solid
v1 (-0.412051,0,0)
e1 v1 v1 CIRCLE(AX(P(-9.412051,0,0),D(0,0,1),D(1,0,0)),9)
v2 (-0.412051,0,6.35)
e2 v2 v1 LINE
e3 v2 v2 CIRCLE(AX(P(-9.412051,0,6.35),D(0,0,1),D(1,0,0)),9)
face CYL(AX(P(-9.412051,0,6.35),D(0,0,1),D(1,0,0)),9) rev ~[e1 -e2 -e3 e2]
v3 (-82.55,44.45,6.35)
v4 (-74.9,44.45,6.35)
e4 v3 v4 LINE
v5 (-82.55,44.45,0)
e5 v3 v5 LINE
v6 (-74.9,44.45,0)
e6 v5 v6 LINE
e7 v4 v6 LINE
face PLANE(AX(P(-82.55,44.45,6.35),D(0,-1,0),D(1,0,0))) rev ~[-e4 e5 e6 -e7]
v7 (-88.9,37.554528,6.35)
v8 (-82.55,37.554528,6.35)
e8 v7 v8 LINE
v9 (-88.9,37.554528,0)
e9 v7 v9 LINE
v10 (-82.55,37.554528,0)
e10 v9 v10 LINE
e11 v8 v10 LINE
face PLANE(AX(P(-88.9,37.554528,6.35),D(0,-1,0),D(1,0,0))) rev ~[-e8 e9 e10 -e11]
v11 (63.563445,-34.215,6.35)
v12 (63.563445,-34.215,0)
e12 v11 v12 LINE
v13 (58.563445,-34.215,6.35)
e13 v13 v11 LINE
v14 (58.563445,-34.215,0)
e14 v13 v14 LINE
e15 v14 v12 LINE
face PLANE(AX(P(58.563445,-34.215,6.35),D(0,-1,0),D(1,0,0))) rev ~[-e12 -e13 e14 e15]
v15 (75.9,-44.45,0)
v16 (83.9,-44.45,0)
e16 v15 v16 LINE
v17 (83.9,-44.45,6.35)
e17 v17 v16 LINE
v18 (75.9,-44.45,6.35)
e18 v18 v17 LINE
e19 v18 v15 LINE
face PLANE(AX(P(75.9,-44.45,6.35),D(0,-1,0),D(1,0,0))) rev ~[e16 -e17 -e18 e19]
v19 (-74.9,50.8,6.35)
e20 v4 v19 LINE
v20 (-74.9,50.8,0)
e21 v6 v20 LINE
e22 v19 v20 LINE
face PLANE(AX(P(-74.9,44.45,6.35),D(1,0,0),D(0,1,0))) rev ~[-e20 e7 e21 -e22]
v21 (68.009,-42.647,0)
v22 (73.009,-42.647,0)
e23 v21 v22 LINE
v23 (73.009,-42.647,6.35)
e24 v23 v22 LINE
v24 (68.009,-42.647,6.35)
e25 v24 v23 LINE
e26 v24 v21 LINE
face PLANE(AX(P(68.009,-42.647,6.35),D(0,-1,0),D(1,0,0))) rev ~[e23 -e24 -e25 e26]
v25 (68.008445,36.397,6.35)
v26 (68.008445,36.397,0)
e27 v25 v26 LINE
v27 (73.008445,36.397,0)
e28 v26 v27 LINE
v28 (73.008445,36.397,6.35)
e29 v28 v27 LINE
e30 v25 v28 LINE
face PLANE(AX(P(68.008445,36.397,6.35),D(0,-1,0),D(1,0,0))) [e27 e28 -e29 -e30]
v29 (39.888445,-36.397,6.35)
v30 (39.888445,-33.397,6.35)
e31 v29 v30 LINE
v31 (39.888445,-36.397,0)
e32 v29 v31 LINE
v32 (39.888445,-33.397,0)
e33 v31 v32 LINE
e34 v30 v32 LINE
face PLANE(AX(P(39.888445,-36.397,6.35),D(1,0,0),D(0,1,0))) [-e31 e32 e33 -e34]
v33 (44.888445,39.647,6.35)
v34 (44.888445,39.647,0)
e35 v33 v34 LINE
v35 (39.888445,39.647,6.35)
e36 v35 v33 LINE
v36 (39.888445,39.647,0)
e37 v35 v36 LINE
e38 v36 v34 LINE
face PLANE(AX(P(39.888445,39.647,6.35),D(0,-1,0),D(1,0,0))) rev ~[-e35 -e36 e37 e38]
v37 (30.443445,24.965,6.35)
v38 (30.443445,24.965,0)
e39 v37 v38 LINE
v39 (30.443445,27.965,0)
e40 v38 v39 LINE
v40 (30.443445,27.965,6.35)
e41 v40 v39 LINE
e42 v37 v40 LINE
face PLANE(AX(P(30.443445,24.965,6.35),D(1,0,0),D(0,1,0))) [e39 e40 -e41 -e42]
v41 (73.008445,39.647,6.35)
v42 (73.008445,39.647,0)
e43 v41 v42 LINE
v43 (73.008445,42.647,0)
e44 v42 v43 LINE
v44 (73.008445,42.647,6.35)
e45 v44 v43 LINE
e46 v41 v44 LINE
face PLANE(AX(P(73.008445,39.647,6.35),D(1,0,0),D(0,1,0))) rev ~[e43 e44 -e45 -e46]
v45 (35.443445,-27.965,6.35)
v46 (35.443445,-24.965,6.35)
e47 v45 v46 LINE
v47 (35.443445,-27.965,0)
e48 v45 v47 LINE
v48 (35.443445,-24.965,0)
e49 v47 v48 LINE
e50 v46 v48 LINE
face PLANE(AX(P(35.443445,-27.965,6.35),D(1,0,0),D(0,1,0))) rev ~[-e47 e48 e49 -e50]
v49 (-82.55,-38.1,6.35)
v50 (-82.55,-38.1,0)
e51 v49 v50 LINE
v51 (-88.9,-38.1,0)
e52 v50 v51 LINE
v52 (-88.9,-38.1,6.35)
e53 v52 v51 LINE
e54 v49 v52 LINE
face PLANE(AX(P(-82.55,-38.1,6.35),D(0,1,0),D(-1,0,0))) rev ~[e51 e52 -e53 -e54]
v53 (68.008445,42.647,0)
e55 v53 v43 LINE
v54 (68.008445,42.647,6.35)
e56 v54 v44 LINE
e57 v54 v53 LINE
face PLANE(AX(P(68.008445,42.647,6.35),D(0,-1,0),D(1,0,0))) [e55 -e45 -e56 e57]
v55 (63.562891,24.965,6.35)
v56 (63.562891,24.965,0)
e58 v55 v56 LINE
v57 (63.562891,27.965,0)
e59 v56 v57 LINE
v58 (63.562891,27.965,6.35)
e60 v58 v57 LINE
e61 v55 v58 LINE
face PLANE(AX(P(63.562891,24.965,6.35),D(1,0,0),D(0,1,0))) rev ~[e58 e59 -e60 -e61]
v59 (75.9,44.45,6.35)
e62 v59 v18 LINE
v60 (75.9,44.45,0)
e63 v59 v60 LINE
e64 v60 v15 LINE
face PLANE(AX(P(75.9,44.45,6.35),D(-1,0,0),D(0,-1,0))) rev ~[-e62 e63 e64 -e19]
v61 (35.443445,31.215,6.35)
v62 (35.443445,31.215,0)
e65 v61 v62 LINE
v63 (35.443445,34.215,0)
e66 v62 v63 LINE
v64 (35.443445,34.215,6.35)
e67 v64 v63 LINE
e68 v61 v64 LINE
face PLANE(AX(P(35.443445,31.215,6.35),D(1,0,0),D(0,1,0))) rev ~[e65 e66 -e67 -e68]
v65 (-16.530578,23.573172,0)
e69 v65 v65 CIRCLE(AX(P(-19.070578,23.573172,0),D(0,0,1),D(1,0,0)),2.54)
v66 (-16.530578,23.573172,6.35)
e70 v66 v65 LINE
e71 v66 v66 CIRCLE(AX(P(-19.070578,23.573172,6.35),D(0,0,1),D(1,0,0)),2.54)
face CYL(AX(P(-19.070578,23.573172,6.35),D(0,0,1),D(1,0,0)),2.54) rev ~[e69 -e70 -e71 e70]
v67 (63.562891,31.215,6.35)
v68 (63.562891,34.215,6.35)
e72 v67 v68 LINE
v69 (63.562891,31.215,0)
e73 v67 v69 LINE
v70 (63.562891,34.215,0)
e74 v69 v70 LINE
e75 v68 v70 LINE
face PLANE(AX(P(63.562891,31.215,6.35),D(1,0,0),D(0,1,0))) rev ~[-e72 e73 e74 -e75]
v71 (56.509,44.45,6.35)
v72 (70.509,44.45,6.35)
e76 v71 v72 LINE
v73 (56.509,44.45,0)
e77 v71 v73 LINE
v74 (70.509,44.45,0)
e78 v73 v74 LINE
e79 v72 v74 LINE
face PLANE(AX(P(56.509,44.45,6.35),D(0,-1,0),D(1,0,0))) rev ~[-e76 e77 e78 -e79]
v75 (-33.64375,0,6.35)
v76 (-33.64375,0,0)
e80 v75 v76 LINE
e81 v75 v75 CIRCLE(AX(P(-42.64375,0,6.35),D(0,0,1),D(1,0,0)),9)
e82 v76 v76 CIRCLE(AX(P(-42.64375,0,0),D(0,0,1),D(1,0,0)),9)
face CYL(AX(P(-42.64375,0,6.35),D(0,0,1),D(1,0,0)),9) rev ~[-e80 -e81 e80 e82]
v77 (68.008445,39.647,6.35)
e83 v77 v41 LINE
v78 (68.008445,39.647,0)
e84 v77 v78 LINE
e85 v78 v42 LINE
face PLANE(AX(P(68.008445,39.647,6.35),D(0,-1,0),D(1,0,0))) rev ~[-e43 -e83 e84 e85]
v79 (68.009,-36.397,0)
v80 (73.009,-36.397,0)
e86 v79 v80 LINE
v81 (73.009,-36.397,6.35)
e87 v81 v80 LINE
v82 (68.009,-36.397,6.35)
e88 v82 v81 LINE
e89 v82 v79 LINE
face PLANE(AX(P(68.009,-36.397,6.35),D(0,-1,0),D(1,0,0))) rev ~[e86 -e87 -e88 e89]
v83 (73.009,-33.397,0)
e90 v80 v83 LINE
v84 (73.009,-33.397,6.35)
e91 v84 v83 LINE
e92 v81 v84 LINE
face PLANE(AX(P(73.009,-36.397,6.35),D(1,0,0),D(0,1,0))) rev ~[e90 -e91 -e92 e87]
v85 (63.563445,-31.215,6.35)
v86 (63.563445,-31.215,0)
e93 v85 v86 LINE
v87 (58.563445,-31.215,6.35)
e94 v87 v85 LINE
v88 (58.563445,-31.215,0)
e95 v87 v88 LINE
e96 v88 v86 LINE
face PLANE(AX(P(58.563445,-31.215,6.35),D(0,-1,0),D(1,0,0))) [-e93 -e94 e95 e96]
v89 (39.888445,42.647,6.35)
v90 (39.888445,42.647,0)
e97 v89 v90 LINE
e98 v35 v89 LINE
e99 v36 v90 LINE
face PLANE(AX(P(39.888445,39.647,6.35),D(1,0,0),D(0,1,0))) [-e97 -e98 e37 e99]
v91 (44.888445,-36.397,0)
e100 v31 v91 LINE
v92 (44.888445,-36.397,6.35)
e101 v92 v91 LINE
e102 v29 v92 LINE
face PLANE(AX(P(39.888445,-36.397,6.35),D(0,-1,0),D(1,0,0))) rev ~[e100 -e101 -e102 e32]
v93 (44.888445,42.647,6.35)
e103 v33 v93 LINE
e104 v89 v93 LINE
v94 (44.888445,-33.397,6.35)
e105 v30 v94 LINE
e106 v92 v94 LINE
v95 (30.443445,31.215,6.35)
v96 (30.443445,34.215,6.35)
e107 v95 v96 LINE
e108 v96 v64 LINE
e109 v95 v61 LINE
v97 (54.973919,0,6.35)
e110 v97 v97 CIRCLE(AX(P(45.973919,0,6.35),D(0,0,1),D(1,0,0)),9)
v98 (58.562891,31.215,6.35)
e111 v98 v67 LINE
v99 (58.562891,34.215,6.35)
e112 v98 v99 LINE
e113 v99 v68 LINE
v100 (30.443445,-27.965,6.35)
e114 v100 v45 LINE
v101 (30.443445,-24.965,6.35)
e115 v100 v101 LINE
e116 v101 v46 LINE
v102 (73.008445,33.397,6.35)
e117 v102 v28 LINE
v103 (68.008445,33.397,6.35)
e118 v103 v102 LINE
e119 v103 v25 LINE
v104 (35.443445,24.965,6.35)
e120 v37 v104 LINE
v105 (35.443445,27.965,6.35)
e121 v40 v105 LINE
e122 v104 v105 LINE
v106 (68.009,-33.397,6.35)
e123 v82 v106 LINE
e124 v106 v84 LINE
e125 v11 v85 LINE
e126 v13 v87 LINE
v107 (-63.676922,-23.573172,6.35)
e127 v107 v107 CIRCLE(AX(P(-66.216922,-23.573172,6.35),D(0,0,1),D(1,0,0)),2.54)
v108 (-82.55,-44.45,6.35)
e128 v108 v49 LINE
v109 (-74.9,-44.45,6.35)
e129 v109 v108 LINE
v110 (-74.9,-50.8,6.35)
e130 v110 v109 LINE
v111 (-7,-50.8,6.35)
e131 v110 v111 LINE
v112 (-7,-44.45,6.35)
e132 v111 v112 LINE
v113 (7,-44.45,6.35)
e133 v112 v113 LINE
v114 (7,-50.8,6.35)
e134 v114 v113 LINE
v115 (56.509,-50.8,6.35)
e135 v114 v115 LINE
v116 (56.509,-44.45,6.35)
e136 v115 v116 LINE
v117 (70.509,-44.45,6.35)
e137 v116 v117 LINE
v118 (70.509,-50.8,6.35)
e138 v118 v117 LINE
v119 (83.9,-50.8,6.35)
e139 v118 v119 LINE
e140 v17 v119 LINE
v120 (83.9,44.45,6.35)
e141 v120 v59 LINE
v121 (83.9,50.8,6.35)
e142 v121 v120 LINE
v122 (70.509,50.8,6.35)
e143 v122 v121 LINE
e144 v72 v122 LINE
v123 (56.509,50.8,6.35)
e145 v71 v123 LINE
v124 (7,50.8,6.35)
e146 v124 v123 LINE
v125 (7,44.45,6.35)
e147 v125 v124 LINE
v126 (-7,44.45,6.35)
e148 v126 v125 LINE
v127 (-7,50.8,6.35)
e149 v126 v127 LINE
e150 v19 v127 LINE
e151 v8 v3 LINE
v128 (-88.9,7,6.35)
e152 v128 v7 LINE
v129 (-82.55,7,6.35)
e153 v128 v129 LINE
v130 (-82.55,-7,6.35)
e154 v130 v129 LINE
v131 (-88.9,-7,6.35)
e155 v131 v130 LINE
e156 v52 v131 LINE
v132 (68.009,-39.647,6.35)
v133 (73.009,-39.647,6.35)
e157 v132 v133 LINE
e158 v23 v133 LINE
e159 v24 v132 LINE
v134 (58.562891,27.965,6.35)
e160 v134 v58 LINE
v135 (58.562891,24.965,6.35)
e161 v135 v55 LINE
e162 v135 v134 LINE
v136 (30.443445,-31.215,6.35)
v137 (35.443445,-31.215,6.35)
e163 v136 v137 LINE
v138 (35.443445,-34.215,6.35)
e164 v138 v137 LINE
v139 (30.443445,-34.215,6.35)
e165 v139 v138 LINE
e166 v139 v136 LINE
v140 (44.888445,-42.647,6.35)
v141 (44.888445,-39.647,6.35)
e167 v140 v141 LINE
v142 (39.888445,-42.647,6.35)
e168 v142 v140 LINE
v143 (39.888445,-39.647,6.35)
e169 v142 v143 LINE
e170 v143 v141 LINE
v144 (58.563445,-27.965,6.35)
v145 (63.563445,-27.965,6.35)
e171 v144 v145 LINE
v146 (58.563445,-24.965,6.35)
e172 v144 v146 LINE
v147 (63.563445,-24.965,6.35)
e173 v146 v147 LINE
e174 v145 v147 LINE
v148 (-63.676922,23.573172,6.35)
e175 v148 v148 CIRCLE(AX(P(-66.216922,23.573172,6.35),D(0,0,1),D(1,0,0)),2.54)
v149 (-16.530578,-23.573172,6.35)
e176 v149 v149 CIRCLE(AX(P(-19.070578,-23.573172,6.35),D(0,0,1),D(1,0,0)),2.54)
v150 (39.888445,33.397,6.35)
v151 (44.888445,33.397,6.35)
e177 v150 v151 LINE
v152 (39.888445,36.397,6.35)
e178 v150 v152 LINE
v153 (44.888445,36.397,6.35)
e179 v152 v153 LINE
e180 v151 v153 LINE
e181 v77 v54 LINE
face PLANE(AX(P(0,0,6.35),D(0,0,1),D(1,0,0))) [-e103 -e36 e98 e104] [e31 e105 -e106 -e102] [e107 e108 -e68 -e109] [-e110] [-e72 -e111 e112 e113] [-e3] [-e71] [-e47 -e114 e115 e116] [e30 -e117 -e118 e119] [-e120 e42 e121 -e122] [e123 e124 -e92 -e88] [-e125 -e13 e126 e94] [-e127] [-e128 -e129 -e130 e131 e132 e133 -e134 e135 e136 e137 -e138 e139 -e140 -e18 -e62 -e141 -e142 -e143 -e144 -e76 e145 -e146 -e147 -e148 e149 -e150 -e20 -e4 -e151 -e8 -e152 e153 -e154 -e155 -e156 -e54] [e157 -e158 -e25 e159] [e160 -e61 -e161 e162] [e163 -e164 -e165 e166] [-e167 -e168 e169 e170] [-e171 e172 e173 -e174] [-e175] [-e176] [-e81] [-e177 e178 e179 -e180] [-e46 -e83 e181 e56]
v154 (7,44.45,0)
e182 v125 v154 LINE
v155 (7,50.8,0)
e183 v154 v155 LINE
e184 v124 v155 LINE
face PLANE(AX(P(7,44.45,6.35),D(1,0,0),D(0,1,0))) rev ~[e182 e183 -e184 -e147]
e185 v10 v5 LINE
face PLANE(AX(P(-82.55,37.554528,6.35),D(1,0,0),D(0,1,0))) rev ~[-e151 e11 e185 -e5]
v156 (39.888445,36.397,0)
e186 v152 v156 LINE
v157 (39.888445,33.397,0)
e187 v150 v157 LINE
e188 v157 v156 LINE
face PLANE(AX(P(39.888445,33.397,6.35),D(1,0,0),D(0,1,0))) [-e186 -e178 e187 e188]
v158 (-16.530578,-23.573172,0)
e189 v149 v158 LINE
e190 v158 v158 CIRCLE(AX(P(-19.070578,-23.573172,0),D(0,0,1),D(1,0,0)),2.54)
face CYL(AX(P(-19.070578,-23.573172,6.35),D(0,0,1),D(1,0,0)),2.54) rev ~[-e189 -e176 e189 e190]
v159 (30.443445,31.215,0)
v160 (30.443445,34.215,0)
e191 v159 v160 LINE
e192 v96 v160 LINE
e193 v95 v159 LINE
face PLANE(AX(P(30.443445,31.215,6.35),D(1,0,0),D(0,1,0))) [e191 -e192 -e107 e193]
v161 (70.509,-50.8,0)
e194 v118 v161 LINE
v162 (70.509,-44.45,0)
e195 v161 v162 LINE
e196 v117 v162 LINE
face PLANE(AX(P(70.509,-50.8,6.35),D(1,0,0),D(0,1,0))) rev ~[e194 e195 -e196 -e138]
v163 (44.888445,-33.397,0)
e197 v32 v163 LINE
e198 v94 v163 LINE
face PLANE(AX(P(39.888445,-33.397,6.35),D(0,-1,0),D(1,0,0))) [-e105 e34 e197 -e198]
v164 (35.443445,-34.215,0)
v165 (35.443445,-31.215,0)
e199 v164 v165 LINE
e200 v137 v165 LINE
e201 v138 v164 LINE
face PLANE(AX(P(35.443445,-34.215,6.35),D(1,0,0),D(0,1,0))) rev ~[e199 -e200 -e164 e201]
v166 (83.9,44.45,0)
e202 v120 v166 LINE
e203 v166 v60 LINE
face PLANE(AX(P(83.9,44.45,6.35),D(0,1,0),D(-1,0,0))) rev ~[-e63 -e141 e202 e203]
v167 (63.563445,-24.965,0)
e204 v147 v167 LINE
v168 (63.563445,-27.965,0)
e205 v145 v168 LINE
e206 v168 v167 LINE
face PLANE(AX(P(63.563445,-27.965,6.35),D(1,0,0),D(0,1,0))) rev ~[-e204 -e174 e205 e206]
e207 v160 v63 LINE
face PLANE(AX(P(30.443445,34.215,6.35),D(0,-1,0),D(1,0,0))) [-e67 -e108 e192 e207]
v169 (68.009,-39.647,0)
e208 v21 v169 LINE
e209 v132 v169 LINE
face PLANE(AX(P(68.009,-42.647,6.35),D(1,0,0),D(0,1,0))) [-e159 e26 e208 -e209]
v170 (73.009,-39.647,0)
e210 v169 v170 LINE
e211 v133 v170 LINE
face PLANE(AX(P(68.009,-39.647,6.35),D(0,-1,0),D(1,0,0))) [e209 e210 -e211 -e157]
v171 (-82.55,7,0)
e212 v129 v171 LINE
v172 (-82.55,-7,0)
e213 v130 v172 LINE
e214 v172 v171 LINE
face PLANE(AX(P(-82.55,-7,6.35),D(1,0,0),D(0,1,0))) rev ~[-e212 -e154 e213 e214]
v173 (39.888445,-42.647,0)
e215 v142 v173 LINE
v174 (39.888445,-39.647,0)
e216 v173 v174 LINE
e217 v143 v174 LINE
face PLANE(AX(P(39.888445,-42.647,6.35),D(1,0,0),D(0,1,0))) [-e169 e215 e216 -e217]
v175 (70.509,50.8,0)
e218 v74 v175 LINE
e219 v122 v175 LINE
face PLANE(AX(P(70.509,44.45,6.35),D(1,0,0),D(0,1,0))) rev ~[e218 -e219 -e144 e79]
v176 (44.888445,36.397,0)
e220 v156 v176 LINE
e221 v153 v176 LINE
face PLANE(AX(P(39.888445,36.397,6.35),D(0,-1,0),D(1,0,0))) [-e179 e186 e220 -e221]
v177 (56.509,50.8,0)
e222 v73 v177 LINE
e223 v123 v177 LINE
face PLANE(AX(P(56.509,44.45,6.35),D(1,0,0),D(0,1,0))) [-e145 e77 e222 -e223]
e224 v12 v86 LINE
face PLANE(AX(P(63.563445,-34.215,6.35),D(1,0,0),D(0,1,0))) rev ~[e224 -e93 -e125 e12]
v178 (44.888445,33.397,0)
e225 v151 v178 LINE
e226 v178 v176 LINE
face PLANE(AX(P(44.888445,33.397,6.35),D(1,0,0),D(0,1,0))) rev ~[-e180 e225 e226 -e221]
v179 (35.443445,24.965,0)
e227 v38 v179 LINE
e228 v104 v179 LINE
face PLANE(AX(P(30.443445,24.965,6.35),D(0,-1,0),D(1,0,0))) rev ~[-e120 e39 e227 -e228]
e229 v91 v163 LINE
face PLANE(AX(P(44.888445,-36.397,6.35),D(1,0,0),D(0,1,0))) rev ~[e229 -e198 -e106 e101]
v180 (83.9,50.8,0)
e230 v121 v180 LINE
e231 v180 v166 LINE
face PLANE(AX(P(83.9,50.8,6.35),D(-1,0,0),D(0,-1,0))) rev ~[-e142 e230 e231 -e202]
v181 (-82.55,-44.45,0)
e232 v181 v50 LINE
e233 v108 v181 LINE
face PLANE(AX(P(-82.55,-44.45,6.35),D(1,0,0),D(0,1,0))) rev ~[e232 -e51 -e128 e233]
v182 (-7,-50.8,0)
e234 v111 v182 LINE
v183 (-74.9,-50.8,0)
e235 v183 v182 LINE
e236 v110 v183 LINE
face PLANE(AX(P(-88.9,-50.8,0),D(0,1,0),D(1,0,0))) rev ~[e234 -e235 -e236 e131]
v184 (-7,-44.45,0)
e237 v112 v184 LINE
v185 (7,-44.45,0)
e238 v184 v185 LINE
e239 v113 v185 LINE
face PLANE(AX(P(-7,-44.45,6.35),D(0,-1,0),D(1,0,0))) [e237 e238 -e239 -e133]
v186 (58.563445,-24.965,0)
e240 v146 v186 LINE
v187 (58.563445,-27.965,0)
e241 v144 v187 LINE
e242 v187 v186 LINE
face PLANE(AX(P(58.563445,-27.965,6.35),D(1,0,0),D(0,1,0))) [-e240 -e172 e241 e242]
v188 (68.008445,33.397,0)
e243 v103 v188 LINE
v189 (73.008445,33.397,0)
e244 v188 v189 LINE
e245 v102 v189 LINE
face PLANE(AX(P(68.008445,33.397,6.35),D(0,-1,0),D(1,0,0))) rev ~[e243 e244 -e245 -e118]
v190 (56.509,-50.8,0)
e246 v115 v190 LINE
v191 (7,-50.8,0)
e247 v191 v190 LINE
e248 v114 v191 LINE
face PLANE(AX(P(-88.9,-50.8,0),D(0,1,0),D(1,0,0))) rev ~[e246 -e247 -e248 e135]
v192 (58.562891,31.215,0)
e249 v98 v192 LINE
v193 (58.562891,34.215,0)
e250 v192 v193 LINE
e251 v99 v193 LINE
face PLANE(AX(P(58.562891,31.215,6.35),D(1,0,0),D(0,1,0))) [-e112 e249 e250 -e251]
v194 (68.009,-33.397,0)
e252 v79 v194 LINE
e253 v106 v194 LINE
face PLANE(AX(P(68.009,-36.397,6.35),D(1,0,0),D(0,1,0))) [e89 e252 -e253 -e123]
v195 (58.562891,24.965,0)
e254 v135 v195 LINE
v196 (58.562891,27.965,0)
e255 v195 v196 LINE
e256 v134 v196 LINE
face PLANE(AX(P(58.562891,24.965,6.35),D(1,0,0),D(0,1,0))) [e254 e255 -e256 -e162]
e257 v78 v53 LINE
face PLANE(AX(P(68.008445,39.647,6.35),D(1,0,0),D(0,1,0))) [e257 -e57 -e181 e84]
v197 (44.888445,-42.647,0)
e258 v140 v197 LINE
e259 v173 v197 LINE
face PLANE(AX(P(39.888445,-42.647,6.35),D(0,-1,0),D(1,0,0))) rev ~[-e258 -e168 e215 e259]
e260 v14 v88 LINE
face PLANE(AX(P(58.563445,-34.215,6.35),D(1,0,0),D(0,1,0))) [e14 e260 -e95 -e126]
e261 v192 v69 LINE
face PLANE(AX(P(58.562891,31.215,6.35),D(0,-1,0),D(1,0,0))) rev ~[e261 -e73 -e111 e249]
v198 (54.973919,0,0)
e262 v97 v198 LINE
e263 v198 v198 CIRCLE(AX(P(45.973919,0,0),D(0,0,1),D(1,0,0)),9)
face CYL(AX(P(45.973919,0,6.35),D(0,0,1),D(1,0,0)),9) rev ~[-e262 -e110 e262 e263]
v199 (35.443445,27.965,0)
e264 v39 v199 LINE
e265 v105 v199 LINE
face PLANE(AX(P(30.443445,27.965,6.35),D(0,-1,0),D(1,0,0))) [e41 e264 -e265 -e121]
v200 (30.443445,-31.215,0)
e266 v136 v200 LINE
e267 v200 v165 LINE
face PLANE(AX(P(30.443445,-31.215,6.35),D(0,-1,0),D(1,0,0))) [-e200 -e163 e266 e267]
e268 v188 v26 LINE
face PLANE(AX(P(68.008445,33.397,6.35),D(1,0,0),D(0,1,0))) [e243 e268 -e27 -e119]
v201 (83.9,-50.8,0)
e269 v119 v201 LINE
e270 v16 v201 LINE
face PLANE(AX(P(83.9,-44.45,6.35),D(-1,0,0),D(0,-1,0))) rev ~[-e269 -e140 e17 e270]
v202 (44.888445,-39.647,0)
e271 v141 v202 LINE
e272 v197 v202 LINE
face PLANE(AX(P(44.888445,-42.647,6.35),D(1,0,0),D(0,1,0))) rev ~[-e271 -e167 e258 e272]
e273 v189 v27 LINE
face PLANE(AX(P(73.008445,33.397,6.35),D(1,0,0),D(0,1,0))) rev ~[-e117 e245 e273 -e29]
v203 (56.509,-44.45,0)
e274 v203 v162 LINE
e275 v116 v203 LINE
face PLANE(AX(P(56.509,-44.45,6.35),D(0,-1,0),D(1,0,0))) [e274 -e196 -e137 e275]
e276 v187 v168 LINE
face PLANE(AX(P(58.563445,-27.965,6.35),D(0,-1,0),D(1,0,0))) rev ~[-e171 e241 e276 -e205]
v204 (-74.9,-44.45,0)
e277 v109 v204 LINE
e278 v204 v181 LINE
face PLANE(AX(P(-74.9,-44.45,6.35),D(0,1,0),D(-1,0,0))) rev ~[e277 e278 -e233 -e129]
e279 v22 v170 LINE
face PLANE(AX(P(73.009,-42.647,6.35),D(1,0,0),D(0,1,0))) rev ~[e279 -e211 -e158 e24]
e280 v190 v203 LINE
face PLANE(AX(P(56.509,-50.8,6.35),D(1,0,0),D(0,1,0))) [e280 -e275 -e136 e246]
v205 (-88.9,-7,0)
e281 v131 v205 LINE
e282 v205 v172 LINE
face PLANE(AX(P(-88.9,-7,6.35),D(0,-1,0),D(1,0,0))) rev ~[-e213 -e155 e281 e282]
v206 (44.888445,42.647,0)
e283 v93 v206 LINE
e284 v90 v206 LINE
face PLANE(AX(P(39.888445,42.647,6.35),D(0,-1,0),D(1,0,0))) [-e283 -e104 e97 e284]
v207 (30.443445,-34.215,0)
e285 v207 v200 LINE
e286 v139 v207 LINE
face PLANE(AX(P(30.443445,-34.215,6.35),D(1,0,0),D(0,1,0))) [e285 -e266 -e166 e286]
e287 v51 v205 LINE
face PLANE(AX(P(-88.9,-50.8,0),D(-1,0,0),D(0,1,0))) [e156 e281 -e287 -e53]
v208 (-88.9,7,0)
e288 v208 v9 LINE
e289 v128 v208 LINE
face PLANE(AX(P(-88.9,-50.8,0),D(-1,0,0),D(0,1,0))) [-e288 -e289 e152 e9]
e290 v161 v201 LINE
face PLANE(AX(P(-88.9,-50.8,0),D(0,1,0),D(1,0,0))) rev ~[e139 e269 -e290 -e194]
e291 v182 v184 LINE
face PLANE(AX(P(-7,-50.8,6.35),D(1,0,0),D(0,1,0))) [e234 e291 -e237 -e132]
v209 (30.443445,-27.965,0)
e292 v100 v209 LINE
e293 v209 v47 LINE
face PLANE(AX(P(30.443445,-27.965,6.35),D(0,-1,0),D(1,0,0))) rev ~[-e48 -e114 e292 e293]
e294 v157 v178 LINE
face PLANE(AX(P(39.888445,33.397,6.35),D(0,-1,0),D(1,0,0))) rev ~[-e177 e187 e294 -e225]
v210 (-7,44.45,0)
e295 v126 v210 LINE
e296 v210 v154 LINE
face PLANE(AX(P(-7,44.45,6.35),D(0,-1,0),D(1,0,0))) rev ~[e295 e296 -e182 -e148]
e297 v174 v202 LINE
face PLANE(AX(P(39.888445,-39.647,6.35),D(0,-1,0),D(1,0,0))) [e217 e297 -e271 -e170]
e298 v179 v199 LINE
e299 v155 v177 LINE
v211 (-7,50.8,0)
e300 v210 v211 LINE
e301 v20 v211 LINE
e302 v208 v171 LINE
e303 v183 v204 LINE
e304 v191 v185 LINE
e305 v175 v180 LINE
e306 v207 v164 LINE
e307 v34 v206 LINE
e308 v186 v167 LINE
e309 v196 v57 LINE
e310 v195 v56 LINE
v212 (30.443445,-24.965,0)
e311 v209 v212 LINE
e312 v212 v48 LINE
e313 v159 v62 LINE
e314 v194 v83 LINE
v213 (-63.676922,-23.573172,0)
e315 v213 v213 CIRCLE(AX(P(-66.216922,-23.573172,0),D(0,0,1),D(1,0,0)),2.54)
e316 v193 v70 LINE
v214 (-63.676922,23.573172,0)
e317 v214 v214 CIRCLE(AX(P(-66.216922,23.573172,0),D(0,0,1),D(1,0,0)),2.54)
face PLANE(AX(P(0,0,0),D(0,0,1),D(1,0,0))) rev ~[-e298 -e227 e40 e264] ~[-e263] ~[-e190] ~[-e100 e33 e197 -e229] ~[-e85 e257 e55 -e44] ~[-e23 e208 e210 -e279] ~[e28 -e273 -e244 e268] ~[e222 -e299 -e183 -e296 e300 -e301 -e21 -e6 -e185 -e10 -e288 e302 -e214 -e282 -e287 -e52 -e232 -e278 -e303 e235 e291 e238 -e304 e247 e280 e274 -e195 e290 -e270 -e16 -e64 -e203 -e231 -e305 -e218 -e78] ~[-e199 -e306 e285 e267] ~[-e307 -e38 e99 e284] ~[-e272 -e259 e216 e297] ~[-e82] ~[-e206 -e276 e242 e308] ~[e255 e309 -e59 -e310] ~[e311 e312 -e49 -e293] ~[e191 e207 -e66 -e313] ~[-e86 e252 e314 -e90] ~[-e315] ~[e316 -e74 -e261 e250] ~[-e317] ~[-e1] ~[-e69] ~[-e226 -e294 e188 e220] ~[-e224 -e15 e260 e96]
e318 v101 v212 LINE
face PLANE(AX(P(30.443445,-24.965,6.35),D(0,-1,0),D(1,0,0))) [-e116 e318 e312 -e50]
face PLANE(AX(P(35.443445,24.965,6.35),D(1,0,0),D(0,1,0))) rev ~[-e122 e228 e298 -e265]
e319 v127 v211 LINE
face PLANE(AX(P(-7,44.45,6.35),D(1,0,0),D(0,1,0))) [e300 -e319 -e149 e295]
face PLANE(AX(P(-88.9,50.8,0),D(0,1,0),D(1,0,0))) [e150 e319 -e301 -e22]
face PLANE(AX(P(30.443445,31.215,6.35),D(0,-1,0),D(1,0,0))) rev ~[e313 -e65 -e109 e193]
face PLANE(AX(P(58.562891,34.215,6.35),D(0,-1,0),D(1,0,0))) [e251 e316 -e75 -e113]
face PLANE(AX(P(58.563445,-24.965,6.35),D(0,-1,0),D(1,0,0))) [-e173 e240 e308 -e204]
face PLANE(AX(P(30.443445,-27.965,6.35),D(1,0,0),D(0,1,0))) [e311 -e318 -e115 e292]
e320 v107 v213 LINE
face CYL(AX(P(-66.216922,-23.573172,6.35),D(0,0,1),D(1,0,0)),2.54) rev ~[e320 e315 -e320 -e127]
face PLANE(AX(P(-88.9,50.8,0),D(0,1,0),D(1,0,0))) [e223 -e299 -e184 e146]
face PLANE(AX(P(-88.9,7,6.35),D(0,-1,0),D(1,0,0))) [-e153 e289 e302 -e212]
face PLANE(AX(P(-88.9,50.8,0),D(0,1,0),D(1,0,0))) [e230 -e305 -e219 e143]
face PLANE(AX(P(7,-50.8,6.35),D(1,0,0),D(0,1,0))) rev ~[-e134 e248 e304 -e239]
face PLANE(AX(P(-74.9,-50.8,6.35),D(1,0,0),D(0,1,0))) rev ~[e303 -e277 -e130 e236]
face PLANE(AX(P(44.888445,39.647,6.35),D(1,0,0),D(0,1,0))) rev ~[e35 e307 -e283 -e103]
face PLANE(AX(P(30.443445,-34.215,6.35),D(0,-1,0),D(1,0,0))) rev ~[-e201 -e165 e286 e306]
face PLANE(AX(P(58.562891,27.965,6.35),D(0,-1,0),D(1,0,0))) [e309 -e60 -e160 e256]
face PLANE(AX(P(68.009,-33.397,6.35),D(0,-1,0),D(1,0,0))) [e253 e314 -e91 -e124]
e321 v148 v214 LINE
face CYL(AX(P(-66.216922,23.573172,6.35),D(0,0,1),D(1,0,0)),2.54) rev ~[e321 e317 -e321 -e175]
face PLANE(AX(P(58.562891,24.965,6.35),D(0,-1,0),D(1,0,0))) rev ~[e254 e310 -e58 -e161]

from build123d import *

# Parameters (mm, degrees)
SKETCH2_W           = 177.8
SKETCH2_H           = 101.6
BOSS_EXTRUDE3_DEPTH = 6.35
SKETCH3_R           = 9
SKETCH3_R_2         = 2.54
CUT_EXTRUDE1_DEPTH  = 103.587389576
SKETCH7_W           = 6.35
SKETCH7_H           = 14
SKETCH7_W_2         = 14
SKETCH7_H_2         = 6.35
CUT_EXTRUDE2_DEPTH  = 103.587389576
SKETCH9_W           = 5
SKETCH9_H           = 3
CUT_EXTRUDE3_DEPTH  = 103.587389576


with BuildPart() as part:
    # Sketch2 → Boss-Extrude3 (new body)
    with BuildSketch(Plane.XY):
        Rectangle(SKETCH2_W, SKETCH2_H)
    extrude(amount=BOSS_EXTRUDE3_DEPTH)

    # Sketch3 → Cut-Extrude1 (cut, through all)
    with BuildSketch(Plane.XY.offset(6.35)):
        with Locations((-9.4120506, 0)):
            Circle(SKETCH3_R)
        with Locations((-42.64375, 0)):
            Circle(SKETCH3_R)
        with Locations((-66.216922318, 23.573172318)):
            Circle(SKETCH3_R_2)
        with Locations((-19.070577682, 23.573172318)):
            Circle(SKETCH3_R_2)
        with Locations((-66.216922318, -23.573172318)):
            Circle(SKETCH3_R_2)
        with Locations((-19.070577682, -23.573172318)):
            Circle(SKETCH3_R_2)
        with Locations((45.9739194, 0)):
            Circle(SKETCH3_R)
    extrude(amount=-CUT_EXTRUDE1_DEPTH, mode=Mode.SUBTRACT)

    # Sketch7 → Cut-Extrude2 (cut, through all)
    with BuildSketch(Plane.XY.offset(6.35)):
        with Locations((-85.725, 0)):
            Rectangle(SKETCH7_W, SKETCH7_H)
        Polygon((-74.9, 50.8), (-88.9, 50.8), (-88.9, 37.554527849), (-82.55, 37.554527849), (-82.55, 44.45), (-74.9, 44.45), align=None)
        Polygon((-88.9, -38.1), (-88.9, -50.8), (-74.9, -50.8), (-74.9, -44.45), (-82.55, -44.45), (-82.55, -38.1), align=None)
        with Locations((63.509, 47.625)):
            Rectangle(SKETCH7_W_2, SKETCH7_H_2)
        with Locations((0, 47.625)):
            Rectangle(SKETCH7_W_2, SKETCH7_H_2)
        Polygon((88.9, 50.8), (83.9, 50.8), (83.9, 44.45), (75.9, 44.45), (75.9, -44.45), (83.9, -44.45), (83.9, -50.8), (88.9, -50.8), align=None)
        with Locations((63.509, -47.625)):
            Rectangle(SKETCH7_W_2, SKETCH7_H_2)
        with Locations((0, -47.625)):
            Rectangle(SKETCH7_W_2, SKETCH7_H_2)
    extrude(amount=-CUT_EXTRUDE2_DEPTH, mode=Mode.SUBTRACT)

    # Sketch9 → Cut-Extrude3 (cut, through all)
    with BuildSketch(Plane.XY.offset(6.35)):
        with Locations((61.062890697, 32.715)):
            Rectangle(SKETCH9_W, SKETCH9_H)
        with Locations((32.943445348, 32.715)):
            Rectangle(SKETCH9_W, SKETCH9_H)
        with Locations((61.063445348, -26.465)):
            Rectangle(SKETCH9_W, SKETCH9_H)
        with Locations((61.063445348, -32.715)):
            Rectangle(SKETCH9_W, SKETCH9_H)
        with Locations((32.943445348, -26.465)):
            Rectangle(SKETCH9_W, SKETCH9_H)
        with Locations((32.943445348, -32.715)):
            Rectangle(SKETCH9_W, SKETCH9_H)
        with Locations((70.509, -41.147)):
            Rectangle(SKETCH9_W, SKETCH9_H)
        with Locations((70.508445348, 41.147)):
            Rectangle(SKETCH9_W, SKETCH9_H)
        with Locations((70.508445348, 34.897)):
            Rectangle(SKETCH9_W, SKETCH9_H)
        with Locations((42.388445348, 41.147)):
            Rectangle(SKETCH9_W, SKETCH9_H)
        with Locations((42.388445348, 34.897)):
            Rectangle(SKETCH9_W, SKETCH9_H)
        with Locations((42.388445348, -34.897)):
            Rectangle(SKETCH9_W, SKETCH9_H)
        with Locations((42.388445348, -41.147)):
            Rectangle(SKETCH9_W, SKETCH9_H)
        with Locations((61.062890697, 26.465)):
            Rectangle(SKETCH9_W, SKETCH9_H)
        with Locations((32.943445348, 26.465)):
            Rectangle(SKETCH9_W, SKETCH9_H)
        with Locations((70.509, -34.897)):
            Rectangle(SKETCH9_W, SKETCH9_H)
    extrude(amount=-CUT_EXTRUDE3_DEPTH, mode=Mode.SUBTRACT)


solid = part.part
